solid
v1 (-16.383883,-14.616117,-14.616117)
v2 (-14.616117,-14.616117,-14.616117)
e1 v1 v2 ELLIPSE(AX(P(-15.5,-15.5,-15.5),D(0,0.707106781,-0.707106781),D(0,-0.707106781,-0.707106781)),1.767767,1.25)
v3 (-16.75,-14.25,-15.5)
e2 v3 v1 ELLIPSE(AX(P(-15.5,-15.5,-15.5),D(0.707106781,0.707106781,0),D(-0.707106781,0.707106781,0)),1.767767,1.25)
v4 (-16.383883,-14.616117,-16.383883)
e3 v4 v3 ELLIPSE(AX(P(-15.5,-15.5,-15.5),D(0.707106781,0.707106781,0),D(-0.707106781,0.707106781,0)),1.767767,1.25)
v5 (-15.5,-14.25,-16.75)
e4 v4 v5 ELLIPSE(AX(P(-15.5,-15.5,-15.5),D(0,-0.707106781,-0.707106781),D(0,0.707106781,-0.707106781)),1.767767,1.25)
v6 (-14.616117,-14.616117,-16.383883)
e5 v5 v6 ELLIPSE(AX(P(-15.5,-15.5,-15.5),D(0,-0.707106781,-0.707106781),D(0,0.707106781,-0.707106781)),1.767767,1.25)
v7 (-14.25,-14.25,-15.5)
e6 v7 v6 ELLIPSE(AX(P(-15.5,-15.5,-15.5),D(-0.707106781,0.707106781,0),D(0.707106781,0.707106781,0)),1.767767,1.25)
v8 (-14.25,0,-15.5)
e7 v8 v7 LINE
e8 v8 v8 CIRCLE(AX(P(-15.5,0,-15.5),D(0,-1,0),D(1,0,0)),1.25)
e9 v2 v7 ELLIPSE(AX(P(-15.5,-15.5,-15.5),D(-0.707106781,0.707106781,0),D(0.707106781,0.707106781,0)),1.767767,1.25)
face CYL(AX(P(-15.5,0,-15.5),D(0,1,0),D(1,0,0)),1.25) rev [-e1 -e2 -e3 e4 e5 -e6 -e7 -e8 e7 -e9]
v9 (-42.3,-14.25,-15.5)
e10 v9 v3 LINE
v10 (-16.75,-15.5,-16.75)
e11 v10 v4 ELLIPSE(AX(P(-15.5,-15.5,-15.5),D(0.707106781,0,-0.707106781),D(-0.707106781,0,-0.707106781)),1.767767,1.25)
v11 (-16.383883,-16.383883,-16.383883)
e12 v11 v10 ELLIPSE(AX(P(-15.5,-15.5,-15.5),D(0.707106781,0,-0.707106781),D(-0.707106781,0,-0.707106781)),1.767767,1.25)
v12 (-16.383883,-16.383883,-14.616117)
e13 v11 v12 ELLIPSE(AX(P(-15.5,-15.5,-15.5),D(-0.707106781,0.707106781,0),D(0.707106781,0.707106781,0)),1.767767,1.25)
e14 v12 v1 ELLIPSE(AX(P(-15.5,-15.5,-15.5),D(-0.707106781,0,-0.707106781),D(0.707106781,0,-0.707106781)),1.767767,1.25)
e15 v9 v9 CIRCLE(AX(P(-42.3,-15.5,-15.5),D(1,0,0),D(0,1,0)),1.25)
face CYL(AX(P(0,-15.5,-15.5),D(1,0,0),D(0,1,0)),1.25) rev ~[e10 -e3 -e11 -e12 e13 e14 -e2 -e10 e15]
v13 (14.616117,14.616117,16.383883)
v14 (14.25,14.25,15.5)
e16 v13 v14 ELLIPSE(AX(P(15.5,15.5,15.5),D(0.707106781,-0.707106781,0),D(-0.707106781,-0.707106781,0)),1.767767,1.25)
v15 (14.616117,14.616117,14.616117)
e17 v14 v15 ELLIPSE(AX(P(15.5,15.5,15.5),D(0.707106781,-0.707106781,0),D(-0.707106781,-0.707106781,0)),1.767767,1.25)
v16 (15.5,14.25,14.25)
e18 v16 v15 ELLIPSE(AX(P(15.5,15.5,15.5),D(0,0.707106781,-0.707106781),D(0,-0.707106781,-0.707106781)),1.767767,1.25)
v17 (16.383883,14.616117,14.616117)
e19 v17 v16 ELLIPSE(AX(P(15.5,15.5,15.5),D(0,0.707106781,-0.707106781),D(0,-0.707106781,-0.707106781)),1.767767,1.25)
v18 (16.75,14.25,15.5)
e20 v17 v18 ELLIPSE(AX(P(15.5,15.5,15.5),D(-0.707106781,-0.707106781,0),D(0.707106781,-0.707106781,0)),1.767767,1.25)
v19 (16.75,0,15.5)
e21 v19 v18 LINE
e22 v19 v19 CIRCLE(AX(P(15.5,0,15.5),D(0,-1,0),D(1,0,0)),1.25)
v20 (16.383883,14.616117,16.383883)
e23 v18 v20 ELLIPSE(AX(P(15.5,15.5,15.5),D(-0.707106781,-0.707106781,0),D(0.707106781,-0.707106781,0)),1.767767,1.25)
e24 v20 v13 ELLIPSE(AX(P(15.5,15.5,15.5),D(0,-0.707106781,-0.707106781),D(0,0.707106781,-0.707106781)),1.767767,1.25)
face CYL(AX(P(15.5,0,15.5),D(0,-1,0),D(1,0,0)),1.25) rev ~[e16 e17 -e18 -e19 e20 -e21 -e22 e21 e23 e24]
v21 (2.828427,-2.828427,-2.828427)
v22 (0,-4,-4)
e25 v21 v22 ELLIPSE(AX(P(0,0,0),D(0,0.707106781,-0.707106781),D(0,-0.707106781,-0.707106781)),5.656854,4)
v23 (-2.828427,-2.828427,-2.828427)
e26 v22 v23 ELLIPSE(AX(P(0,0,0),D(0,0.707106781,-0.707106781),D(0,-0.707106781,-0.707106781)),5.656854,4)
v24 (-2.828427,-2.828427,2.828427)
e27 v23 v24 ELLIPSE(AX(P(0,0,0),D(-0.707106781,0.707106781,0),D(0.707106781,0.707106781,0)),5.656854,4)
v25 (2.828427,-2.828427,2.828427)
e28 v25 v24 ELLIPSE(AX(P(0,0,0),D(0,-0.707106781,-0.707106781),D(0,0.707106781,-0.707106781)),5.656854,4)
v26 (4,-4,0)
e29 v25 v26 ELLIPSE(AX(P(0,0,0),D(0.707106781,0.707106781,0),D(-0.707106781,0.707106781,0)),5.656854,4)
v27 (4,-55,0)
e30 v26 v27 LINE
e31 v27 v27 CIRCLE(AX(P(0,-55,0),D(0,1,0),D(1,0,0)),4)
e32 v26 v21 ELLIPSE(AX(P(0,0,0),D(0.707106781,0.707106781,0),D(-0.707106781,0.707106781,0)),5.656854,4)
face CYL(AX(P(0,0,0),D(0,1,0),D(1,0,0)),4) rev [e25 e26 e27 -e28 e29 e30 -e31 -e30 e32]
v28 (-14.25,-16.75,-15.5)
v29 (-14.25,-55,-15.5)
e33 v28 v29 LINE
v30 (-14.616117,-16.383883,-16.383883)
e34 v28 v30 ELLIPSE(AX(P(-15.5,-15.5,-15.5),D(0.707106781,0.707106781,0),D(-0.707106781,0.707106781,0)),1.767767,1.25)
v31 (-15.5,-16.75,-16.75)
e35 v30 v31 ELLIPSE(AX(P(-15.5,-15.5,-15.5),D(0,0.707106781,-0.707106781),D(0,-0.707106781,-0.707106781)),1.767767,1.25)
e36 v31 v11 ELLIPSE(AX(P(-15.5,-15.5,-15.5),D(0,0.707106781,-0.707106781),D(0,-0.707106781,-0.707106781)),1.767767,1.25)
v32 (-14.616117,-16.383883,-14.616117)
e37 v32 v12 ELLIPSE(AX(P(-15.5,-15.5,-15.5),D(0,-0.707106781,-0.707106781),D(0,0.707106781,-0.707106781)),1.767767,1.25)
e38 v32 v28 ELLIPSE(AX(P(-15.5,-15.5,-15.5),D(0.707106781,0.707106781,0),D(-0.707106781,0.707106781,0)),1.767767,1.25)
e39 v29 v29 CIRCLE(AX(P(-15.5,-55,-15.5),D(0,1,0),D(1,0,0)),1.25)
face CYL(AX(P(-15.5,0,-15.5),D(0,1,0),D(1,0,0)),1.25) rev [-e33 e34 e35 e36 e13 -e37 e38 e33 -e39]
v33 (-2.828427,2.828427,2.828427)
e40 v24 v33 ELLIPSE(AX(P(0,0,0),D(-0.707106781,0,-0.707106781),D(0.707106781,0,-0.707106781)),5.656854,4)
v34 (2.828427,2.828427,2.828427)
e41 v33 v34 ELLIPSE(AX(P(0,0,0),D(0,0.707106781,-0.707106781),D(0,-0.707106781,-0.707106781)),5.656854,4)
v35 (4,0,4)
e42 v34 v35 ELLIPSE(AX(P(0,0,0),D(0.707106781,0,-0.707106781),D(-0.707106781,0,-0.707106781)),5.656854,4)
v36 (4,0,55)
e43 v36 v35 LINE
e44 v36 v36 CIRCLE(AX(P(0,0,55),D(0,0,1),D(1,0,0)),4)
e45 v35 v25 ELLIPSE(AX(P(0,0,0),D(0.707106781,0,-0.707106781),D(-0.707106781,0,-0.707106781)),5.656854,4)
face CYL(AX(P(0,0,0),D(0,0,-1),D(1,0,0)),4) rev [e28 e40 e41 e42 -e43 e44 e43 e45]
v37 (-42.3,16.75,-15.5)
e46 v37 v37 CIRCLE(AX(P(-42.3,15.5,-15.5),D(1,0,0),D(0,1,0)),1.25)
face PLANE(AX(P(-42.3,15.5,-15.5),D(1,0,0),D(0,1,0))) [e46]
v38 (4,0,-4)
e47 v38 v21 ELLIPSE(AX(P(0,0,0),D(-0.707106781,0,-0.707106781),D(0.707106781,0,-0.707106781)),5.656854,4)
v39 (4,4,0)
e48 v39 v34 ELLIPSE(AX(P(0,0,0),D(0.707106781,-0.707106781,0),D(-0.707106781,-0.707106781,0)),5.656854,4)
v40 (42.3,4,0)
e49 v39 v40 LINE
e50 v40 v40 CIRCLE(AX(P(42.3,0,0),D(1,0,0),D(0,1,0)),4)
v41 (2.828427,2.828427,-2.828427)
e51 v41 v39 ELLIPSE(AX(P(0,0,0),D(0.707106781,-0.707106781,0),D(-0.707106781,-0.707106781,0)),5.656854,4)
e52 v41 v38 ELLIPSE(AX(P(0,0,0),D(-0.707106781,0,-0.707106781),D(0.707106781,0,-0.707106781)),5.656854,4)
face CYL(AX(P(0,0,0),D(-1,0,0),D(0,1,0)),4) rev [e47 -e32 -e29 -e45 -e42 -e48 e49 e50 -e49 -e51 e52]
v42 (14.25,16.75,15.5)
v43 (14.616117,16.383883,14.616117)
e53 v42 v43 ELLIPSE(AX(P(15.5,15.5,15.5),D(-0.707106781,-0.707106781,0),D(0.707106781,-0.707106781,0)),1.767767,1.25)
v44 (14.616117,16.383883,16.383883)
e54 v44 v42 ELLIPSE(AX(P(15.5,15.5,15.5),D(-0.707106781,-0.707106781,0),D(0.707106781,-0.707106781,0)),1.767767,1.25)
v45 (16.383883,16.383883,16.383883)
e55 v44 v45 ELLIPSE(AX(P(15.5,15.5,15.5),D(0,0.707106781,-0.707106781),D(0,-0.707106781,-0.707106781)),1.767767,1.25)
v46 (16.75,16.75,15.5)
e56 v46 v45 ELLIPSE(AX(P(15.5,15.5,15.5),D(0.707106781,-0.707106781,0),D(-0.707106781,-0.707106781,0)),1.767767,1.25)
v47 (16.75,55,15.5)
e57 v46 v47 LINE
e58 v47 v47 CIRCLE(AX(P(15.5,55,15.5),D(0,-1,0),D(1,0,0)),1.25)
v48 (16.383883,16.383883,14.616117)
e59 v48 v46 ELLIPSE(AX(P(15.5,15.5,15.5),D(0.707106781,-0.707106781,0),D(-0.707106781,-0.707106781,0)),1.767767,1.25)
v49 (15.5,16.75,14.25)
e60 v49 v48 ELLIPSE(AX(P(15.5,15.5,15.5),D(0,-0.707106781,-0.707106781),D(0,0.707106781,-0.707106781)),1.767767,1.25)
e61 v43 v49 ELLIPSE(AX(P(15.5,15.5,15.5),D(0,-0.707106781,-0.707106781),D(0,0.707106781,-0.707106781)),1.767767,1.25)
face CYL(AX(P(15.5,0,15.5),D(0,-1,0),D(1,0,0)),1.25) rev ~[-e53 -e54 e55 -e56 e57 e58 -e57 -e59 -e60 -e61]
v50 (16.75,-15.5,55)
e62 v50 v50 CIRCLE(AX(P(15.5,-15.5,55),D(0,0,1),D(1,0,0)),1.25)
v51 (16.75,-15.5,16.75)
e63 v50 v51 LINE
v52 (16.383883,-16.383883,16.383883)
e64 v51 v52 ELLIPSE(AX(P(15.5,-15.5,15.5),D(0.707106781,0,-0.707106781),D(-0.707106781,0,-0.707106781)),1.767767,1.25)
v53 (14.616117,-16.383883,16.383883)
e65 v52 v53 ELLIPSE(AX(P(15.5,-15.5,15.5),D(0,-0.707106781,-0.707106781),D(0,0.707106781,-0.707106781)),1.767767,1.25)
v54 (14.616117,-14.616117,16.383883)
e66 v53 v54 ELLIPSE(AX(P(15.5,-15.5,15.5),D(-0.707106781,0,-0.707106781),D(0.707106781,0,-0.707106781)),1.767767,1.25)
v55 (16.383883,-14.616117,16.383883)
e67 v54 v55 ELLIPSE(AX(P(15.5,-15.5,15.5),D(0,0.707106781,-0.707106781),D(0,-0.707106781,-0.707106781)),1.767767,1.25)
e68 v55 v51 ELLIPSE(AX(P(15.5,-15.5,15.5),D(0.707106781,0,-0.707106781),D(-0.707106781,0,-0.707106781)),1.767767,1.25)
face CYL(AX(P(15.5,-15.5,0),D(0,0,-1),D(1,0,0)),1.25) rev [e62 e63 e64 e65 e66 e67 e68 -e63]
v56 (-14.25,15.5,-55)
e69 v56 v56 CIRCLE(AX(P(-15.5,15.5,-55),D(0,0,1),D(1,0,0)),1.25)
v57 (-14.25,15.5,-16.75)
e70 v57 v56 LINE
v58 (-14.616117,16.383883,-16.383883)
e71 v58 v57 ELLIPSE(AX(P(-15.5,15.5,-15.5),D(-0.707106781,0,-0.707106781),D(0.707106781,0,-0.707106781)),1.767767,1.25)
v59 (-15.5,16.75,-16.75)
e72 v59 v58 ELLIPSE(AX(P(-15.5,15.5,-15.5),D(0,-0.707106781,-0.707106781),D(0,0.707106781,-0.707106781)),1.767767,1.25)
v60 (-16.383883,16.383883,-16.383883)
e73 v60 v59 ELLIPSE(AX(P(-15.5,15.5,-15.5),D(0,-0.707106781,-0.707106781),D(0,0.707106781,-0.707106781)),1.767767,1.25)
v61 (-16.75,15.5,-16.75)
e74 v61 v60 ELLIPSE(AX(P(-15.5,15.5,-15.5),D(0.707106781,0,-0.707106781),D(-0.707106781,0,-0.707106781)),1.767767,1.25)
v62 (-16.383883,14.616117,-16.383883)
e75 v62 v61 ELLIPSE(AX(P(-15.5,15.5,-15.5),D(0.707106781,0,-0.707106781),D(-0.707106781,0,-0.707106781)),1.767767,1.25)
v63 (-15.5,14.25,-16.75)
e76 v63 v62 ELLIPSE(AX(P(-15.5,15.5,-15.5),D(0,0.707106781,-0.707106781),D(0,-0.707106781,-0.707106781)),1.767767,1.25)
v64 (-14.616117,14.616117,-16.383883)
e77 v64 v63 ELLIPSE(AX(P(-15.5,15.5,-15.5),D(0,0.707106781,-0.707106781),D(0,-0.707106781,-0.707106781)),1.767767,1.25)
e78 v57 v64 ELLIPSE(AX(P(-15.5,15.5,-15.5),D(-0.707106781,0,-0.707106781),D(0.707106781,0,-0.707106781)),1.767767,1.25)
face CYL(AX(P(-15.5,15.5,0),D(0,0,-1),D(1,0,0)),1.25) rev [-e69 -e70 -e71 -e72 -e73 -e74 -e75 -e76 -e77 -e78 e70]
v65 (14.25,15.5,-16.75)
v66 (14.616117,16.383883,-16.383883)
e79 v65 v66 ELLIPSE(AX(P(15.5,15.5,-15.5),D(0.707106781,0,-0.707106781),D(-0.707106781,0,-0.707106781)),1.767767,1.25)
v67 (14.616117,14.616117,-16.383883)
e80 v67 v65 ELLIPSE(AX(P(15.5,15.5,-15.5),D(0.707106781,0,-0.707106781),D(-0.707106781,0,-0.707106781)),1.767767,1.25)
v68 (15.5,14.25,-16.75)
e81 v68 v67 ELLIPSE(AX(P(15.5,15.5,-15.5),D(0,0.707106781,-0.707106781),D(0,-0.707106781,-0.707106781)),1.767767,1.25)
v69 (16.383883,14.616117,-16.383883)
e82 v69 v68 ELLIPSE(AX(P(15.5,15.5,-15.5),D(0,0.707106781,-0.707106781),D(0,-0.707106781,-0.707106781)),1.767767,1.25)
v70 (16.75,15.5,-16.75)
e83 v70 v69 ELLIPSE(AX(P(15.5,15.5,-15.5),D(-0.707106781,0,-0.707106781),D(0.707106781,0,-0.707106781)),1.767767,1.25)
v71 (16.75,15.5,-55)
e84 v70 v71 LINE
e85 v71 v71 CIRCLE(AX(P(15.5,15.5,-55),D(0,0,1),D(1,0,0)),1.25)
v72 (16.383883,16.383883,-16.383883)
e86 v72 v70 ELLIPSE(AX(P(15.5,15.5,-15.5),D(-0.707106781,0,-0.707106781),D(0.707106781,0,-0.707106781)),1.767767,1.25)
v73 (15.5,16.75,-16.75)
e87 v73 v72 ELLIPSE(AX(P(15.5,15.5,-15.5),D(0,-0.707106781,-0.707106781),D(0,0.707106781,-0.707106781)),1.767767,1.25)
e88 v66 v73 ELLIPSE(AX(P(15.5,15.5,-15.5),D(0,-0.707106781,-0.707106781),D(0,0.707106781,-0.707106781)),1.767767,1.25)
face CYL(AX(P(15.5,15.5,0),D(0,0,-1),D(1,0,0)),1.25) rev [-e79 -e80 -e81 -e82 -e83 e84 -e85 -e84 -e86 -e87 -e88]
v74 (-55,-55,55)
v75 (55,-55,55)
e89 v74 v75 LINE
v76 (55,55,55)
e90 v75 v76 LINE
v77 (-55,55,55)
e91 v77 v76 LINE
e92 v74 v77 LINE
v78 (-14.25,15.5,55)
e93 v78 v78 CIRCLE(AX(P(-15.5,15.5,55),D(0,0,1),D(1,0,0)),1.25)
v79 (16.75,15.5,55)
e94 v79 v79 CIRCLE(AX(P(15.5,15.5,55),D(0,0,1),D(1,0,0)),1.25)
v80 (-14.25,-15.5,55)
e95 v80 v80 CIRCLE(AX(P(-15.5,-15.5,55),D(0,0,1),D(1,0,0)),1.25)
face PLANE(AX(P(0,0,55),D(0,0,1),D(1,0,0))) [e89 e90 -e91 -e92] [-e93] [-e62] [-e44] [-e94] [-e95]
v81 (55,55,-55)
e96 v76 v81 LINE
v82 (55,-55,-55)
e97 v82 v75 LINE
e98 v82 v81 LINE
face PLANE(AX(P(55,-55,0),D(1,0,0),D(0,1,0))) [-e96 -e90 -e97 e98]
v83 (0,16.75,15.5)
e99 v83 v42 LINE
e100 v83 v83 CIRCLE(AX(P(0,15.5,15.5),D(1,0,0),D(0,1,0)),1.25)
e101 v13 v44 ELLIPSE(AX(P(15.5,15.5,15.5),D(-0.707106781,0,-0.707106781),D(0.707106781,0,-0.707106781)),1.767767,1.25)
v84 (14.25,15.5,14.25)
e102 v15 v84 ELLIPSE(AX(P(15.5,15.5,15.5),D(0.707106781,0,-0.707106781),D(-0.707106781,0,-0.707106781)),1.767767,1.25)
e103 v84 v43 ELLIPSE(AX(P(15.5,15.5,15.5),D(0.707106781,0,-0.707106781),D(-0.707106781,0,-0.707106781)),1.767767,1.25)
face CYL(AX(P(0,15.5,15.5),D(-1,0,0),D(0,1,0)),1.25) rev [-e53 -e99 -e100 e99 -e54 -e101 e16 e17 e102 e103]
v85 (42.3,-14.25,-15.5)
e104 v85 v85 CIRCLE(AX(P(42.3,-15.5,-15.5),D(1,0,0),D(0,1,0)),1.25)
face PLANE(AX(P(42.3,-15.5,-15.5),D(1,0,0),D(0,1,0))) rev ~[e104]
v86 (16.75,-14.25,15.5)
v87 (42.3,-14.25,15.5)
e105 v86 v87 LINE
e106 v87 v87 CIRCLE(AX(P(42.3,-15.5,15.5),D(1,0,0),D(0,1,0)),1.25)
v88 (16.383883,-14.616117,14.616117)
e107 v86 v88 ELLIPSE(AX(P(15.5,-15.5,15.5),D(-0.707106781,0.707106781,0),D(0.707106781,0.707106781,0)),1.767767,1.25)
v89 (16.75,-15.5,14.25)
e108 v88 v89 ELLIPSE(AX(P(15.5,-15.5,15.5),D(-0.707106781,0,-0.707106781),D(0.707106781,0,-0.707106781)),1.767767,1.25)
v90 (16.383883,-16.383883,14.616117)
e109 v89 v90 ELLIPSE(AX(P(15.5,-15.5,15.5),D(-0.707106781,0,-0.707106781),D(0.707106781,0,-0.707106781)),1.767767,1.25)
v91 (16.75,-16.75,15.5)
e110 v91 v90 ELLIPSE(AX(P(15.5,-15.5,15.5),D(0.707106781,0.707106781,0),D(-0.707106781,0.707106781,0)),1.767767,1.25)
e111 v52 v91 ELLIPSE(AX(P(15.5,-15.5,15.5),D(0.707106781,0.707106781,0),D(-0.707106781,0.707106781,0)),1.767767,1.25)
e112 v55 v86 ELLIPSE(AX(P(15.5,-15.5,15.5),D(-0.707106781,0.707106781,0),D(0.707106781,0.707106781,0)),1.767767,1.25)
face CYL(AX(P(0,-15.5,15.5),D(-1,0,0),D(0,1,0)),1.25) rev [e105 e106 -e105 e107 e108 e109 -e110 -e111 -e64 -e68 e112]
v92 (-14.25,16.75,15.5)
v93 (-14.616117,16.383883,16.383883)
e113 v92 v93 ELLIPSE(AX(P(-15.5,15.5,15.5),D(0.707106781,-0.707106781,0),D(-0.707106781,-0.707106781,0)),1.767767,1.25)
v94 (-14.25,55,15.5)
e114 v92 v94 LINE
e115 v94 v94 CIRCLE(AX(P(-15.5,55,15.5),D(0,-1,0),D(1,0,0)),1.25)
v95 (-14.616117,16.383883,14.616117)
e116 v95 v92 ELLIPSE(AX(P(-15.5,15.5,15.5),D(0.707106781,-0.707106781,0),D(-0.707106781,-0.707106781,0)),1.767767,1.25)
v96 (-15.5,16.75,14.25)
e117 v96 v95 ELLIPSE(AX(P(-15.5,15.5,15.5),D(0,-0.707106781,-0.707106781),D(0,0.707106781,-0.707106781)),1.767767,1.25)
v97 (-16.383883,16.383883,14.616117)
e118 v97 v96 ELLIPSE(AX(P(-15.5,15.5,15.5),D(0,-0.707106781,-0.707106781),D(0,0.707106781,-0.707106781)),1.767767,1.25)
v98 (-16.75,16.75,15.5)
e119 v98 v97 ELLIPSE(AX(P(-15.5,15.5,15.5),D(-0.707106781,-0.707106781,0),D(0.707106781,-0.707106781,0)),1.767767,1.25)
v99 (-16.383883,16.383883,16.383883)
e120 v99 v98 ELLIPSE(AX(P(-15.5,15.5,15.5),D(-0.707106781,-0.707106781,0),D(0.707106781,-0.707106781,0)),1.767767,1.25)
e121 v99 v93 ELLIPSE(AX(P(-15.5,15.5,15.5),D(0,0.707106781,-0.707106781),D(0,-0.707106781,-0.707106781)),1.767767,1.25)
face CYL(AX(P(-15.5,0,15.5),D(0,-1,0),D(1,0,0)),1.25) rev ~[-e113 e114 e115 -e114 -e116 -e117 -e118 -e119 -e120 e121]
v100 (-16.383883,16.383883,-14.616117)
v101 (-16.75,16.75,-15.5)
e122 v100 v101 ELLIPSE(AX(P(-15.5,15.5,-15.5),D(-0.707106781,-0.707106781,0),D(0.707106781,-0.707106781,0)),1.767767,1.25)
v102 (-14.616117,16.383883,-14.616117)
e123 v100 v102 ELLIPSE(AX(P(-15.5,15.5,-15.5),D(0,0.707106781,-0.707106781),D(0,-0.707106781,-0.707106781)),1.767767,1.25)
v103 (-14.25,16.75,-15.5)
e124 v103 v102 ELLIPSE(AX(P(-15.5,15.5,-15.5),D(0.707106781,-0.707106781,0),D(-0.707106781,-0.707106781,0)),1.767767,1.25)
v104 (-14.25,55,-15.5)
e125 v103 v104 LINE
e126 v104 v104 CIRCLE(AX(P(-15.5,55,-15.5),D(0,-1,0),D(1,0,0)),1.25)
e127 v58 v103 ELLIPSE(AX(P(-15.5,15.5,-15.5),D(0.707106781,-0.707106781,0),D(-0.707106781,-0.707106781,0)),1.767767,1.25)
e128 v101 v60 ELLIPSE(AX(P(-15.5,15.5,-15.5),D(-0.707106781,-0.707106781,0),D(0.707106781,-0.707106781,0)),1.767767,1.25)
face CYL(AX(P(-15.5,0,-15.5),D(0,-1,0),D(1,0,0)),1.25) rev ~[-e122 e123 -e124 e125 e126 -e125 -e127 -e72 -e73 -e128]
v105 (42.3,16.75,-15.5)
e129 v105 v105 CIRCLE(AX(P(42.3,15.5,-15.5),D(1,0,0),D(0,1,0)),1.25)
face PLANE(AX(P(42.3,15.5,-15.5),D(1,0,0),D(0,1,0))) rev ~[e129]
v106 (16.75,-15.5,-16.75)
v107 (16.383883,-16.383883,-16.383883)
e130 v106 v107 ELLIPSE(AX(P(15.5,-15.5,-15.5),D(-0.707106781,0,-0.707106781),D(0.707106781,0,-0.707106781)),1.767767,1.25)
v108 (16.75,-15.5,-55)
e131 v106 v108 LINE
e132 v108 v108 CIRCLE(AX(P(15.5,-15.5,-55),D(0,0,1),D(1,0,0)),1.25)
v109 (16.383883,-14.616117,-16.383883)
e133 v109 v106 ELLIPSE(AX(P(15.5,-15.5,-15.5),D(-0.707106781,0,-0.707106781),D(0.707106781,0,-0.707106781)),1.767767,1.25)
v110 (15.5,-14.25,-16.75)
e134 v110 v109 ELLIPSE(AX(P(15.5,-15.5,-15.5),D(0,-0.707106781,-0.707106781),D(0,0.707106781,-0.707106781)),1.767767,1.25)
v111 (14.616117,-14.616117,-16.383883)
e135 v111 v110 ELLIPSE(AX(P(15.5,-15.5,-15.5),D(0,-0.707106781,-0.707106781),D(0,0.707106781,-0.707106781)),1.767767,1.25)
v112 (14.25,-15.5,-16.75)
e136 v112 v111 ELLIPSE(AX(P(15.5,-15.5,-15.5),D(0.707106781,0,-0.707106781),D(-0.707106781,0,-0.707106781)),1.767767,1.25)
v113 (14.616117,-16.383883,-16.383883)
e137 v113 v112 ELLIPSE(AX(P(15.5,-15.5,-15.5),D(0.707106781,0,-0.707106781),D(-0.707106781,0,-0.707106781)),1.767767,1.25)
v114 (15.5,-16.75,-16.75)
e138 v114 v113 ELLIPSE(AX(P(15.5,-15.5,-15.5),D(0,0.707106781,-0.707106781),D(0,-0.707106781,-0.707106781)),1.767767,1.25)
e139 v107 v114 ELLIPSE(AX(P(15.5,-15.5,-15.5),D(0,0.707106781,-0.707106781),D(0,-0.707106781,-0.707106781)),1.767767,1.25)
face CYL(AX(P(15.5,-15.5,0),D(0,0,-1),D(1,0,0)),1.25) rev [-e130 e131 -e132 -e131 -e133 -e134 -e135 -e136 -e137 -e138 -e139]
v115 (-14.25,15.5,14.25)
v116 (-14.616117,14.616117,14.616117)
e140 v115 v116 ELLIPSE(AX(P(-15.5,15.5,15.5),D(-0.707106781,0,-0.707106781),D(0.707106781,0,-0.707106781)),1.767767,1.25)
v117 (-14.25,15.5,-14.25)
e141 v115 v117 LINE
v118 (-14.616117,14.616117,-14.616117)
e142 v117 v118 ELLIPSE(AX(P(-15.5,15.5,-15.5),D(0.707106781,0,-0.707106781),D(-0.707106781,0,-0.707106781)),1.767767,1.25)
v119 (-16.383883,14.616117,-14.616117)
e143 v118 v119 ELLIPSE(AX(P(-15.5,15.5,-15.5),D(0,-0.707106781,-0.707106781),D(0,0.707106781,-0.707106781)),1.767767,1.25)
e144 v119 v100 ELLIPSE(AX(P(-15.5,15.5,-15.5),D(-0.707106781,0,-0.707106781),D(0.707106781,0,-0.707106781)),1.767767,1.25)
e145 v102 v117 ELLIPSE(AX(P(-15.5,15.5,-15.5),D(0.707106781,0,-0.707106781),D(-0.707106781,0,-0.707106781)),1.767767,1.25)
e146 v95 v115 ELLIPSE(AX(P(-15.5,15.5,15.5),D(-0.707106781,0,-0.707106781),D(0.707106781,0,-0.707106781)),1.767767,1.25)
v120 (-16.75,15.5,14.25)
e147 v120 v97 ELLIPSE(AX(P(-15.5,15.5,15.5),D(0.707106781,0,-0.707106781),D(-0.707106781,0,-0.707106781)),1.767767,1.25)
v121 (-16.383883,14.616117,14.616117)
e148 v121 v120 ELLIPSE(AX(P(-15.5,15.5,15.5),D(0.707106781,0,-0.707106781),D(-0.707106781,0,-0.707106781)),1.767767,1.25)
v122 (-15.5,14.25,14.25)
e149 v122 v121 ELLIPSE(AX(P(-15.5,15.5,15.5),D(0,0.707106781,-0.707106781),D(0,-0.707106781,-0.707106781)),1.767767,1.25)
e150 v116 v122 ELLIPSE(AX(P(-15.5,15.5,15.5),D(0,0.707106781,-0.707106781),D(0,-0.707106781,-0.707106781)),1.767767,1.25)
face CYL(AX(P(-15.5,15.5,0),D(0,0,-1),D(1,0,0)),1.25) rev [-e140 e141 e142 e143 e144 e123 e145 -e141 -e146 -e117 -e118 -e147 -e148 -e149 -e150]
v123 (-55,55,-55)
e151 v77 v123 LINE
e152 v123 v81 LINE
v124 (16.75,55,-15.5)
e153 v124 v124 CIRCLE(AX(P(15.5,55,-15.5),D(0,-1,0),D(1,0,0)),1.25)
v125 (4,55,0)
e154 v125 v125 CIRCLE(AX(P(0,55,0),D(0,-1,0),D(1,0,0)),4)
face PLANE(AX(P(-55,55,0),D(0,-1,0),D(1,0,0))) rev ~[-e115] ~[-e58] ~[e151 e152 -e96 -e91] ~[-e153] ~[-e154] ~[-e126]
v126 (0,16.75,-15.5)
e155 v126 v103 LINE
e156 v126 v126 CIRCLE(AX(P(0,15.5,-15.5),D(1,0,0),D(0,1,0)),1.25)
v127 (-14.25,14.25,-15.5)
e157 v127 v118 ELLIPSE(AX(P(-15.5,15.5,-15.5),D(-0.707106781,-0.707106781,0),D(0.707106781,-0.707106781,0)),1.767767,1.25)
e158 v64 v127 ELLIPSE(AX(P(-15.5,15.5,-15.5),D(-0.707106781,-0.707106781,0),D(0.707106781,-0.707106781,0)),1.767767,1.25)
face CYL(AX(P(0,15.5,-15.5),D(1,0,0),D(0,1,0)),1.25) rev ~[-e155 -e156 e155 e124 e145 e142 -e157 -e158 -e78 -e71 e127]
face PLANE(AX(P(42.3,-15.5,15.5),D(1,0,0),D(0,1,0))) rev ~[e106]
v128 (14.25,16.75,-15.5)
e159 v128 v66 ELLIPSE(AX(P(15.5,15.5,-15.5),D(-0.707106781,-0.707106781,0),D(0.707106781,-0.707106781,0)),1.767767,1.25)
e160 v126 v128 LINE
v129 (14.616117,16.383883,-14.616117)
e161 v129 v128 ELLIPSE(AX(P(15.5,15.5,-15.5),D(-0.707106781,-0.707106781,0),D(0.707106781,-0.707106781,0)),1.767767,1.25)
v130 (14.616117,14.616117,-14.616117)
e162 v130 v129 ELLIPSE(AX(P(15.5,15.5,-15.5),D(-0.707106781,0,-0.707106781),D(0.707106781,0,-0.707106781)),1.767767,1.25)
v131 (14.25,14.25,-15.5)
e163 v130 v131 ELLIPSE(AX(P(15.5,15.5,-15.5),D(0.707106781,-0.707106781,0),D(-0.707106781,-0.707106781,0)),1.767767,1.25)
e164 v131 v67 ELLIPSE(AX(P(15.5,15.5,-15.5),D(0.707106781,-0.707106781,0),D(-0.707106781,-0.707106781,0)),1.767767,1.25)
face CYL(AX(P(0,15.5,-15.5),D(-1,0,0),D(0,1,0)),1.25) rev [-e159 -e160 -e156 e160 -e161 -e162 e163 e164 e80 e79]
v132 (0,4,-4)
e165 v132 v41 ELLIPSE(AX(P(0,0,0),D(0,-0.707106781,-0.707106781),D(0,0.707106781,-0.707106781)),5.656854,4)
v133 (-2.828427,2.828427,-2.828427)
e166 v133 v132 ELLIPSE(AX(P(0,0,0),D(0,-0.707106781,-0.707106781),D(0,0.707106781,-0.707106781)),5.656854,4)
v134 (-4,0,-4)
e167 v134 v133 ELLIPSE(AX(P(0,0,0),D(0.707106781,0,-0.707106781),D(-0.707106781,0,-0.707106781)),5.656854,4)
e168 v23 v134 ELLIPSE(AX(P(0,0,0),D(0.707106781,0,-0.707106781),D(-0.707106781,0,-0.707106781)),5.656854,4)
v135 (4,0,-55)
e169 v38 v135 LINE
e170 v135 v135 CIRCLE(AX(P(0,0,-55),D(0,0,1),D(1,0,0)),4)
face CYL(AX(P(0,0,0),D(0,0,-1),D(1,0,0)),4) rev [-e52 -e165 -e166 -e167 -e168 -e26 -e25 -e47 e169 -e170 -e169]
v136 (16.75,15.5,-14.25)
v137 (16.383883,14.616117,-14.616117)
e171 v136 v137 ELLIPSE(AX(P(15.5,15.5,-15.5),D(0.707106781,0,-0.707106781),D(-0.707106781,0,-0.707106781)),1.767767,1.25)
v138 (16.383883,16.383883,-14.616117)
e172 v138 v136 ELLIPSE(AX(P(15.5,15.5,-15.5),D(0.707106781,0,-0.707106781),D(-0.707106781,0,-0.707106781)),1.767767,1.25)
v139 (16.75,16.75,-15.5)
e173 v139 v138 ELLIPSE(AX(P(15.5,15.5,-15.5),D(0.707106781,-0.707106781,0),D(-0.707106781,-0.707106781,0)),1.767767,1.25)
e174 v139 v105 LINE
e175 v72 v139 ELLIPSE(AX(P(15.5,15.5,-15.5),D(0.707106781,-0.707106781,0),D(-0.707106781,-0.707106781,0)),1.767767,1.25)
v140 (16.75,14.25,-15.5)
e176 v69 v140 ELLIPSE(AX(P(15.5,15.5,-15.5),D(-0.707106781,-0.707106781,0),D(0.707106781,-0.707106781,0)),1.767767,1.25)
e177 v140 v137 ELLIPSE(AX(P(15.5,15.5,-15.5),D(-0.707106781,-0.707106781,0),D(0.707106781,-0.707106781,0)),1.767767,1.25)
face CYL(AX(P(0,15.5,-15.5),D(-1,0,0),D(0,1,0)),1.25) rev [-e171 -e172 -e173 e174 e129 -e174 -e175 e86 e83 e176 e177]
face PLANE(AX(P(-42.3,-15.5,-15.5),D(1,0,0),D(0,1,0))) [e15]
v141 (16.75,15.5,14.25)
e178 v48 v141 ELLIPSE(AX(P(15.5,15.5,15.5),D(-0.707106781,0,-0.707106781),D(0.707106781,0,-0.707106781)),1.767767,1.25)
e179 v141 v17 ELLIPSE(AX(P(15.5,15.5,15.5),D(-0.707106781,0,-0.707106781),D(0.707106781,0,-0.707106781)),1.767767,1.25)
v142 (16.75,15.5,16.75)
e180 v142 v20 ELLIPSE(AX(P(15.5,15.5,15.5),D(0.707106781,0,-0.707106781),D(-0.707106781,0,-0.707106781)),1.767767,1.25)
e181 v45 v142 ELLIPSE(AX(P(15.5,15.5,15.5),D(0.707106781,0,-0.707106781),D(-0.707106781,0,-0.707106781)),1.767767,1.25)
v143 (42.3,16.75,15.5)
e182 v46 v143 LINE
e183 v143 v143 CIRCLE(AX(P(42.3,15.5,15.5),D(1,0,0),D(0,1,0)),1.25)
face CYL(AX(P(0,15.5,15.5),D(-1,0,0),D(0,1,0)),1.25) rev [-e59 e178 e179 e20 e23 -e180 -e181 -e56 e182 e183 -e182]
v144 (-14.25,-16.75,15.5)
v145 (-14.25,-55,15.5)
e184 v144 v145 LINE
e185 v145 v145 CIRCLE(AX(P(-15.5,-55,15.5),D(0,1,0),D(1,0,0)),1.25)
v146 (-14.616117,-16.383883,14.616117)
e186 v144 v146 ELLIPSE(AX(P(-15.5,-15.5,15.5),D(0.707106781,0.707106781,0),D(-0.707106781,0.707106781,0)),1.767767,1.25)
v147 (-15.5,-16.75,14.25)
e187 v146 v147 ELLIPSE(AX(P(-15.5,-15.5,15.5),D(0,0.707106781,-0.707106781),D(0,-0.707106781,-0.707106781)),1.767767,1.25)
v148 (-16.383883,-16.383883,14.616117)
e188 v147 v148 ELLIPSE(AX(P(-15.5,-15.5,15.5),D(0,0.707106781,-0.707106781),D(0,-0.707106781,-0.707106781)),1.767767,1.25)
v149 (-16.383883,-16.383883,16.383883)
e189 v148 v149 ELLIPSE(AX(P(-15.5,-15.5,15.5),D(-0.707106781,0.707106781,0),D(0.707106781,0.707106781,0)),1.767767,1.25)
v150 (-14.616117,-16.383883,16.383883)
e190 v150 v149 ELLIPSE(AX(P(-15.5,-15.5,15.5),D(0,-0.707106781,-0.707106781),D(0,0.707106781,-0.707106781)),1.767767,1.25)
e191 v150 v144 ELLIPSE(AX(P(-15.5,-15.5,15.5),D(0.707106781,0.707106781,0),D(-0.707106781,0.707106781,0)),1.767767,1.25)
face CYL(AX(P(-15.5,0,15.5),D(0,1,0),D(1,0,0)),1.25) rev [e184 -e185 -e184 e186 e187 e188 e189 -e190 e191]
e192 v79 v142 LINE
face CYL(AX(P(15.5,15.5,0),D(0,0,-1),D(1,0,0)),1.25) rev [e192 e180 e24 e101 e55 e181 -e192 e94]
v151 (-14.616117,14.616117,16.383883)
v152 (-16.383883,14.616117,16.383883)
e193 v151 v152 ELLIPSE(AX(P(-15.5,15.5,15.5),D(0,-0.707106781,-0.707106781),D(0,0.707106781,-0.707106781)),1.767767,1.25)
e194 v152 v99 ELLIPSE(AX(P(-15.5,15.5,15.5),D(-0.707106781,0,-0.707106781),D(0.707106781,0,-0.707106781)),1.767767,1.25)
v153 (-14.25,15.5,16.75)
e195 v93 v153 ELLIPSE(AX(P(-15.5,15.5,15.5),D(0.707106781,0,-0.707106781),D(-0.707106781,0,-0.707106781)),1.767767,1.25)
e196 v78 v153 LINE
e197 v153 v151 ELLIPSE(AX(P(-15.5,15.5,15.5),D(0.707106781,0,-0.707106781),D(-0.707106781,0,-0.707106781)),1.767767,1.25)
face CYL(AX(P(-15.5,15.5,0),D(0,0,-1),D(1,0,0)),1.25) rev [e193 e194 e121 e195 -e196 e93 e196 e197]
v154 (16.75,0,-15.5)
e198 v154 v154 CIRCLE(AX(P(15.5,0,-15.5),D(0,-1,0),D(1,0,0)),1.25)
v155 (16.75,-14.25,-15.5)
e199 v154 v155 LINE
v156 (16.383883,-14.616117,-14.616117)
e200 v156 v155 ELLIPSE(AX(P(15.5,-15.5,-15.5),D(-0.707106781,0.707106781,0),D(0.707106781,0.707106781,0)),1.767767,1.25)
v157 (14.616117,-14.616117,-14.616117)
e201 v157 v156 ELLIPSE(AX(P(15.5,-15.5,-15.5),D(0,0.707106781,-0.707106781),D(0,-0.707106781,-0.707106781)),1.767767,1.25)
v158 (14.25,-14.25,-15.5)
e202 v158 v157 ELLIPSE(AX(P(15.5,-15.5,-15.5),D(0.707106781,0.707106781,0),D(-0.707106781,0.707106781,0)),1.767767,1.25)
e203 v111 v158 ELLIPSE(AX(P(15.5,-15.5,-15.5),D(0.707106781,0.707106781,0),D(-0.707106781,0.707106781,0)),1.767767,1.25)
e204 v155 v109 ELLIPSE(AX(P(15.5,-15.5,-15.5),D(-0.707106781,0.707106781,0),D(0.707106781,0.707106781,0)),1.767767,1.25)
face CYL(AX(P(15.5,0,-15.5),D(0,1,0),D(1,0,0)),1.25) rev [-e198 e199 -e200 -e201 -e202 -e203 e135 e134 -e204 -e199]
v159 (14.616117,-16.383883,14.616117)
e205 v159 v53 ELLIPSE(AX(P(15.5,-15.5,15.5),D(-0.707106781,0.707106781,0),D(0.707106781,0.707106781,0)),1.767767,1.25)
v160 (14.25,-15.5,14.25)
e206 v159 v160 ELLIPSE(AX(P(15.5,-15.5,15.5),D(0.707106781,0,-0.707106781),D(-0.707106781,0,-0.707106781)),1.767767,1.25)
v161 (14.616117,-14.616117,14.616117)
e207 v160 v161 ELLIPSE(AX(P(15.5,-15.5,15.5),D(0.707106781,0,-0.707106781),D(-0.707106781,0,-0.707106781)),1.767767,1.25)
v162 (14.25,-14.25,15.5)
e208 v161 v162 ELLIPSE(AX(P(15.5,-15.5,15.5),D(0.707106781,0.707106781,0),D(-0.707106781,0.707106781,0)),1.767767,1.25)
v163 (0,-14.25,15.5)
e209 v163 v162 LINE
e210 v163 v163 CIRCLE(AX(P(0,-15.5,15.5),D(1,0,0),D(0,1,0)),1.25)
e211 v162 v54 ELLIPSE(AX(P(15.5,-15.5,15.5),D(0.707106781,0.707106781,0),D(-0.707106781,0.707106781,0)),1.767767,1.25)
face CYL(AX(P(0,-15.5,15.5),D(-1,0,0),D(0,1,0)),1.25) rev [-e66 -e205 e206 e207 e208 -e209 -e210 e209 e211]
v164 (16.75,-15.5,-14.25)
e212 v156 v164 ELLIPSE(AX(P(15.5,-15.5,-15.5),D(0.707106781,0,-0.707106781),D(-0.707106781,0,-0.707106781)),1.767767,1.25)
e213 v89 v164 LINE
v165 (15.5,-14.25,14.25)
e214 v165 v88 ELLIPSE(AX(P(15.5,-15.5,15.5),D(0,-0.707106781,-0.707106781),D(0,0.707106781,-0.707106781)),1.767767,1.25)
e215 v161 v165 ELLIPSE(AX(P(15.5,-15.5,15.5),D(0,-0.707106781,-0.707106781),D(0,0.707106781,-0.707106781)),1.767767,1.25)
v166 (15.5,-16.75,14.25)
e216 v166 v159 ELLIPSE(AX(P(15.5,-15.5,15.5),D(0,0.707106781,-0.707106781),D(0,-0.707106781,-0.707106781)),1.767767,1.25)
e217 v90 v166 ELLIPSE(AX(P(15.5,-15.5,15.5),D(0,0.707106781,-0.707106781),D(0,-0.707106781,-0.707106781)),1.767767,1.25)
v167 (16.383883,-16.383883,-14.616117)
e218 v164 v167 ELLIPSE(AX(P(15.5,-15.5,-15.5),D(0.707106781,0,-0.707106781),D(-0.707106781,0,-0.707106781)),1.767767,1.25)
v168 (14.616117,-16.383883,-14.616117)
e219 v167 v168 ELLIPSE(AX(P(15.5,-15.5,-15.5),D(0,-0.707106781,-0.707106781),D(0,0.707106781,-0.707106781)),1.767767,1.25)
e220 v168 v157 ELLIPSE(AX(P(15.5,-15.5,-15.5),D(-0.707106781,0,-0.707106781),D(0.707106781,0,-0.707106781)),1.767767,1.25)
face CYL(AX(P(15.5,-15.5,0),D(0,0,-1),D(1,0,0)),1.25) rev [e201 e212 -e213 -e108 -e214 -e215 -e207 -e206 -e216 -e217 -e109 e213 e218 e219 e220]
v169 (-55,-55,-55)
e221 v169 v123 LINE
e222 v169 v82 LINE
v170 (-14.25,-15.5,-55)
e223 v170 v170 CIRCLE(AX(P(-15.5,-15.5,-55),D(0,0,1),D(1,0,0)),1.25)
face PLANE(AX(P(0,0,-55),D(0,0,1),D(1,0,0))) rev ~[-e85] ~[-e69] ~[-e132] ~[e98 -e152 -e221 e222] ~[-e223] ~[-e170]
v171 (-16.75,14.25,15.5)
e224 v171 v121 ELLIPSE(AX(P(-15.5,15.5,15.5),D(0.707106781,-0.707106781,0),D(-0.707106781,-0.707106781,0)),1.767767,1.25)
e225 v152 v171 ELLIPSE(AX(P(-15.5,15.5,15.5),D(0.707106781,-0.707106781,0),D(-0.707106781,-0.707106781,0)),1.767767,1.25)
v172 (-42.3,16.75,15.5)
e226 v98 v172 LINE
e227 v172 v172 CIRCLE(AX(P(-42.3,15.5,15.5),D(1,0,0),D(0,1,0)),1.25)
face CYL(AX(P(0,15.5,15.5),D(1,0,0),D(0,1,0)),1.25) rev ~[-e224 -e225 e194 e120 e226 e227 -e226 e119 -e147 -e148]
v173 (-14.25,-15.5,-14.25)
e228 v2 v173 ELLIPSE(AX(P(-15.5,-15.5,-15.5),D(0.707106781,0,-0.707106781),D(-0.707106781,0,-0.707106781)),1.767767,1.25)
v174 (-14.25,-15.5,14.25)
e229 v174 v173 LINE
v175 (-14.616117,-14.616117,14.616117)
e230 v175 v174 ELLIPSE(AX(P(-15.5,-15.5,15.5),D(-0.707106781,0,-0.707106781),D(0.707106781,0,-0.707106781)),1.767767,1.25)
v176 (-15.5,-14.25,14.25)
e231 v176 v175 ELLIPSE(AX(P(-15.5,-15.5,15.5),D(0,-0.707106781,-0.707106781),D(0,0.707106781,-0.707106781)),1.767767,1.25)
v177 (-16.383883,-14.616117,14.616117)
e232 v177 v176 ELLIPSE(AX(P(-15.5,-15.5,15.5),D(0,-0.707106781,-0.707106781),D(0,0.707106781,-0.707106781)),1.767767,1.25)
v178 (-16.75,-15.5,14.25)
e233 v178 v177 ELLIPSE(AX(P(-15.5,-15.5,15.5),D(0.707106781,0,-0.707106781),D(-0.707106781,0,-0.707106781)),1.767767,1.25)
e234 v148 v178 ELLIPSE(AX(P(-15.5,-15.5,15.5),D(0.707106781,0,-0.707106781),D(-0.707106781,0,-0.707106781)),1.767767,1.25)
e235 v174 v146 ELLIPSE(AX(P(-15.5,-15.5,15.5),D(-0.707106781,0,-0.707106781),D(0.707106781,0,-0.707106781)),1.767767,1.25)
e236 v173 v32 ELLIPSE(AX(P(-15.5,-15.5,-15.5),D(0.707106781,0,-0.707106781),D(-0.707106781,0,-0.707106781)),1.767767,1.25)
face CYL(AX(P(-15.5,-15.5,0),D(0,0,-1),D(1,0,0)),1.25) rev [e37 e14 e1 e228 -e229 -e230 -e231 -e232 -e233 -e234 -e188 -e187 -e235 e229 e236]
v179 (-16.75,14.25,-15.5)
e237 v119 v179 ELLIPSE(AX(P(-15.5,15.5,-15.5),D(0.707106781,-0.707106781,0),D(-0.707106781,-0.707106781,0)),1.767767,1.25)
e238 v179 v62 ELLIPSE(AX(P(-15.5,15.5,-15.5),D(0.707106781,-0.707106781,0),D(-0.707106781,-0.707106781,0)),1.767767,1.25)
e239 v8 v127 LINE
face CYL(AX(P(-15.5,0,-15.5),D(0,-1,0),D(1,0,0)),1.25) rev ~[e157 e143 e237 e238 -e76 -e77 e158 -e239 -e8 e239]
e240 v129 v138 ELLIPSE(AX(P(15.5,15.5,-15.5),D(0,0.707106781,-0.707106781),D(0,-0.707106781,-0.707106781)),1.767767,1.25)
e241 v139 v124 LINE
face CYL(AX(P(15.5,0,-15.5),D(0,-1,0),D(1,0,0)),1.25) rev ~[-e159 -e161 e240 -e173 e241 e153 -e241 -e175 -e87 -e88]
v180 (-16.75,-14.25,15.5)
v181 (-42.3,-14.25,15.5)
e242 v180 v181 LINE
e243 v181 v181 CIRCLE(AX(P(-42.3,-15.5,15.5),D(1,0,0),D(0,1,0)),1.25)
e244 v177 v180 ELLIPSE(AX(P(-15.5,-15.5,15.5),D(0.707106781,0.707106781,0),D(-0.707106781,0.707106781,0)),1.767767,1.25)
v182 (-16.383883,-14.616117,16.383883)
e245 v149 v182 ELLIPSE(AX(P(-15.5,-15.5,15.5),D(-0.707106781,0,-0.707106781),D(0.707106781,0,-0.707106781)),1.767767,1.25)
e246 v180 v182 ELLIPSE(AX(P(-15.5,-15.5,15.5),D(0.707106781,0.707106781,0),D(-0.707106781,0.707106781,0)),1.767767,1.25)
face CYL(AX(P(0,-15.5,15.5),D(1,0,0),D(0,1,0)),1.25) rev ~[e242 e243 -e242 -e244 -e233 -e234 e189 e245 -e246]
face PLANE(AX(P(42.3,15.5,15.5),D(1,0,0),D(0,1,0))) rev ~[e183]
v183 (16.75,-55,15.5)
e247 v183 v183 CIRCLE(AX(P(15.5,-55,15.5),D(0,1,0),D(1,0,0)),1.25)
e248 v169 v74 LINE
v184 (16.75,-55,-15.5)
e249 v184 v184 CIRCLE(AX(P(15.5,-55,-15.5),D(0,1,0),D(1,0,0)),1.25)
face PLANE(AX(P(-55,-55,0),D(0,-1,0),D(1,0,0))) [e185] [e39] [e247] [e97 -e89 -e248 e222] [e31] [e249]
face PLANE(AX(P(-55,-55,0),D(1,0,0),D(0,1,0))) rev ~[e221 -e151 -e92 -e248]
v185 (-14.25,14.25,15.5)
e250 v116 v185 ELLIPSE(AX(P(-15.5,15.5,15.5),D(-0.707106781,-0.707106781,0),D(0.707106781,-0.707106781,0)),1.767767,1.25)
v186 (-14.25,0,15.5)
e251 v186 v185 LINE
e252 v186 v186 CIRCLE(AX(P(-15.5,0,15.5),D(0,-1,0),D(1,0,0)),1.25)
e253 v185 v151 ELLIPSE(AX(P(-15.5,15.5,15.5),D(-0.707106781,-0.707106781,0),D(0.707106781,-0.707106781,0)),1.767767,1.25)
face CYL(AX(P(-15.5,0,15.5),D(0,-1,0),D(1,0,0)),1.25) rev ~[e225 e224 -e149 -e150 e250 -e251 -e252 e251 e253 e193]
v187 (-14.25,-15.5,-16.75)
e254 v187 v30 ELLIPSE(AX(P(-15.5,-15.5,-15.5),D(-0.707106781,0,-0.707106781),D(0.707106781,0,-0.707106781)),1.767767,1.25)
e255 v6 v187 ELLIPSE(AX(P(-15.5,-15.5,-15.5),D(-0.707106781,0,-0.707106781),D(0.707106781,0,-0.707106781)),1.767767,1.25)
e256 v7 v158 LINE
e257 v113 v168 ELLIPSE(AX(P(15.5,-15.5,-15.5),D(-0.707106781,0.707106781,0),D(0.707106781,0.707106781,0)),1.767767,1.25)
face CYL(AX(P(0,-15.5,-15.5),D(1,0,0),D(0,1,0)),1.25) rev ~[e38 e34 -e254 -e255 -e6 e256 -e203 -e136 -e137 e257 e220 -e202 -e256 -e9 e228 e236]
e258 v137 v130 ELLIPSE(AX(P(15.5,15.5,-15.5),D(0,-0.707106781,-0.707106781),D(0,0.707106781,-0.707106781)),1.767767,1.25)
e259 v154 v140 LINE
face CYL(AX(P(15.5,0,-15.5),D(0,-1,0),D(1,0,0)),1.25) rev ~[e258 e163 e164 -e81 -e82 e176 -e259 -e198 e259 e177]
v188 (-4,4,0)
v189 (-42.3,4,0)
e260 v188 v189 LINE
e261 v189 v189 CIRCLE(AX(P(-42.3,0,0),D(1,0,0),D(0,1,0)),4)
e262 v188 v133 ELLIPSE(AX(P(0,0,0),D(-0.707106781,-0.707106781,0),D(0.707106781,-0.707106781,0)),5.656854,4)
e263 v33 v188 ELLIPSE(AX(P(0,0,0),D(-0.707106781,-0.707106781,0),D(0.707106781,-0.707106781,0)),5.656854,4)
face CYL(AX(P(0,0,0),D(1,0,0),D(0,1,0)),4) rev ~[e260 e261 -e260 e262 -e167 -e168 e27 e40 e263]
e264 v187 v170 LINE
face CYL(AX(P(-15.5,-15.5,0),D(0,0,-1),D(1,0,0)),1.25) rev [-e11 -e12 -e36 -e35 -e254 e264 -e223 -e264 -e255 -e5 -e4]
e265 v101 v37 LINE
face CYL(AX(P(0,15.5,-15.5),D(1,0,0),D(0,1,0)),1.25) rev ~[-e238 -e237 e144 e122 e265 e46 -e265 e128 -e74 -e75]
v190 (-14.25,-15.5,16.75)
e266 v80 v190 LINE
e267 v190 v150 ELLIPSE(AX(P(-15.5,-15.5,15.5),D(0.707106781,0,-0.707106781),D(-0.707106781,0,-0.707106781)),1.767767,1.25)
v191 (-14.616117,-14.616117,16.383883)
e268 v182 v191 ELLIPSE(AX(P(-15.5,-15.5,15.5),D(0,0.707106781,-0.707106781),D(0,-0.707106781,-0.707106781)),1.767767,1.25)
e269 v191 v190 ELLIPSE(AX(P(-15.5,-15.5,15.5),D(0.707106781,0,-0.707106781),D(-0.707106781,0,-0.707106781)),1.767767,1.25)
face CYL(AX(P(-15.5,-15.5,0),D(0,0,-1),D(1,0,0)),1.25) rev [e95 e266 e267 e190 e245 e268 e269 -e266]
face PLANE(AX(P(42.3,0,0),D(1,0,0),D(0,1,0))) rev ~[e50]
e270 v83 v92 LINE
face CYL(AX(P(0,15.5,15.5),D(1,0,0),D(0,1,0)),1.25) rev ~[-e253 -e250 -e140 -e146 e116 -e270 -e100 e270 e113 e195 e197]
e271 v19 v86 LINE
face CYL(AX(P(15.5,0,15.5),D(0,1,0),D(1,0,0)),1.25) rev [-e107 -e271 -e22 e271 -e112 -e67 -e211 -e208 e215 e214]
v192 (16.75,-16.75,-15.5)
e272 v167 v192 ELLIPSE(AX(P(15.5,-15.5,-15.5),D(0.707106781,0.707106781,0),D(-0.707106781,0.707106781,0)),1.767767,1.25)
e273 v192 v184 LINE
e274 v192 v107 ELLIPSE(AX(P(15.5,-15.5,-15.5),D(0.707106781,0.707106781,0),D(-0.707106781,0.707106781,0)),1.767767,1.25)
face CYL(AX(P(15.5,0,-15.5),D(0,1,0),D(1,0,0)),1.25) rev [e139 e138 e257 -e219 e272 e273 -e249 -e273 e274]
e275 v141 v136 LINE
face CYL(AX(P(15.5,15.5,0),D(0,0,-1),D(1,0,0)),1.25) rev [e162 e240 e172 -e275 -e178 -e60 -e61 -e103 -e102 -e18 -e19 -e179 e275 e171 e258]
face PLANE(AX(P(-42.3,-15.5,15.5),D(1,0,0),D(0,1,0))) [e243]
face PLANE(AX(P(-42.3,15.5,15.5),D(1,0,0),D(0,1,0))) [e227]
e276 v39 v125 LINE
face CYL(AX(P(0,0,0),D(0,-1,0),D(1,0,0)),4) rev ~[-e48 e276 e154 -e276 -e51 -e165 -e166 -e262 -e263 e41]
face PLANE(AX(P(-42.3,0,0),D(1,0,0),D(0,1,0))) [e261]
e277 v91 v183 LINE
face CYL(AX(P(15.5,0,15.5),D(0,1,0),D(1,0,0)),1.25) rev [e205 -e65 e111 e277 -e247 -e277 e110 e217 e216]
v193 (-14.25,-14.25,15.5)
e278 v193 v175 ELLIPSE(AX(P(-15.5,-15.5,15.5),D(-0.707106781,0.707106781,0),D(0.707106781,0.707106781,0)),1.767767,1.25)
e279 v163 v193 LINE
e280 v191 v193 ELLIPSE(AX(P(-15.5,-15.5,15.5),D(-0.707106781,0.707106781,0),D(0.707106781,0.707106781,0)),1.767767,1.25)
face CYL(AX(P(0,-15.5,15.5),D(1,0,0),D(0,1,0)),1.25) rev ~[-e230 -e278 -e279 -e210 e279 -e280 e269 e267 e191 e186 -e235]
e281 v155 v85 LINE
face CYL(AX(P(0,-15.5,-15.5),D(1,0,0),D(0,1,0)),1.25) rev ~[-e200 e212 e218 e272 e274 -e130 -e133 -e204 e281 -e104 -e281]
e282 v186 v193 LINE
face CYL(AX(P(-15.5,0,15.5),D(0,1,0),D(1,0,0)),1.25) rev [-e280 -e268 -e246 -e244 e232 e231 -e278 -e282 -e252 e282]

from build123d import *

# Parameters (mm, degrees)
F1_W          = 110
F1_H          = 110
F1_R          = 1.25
F1_R_2        = 4
F2_DEPTH      = 55
F3_R          = 1.25
F3_R_2        = 4
F4_DEPTH      = 55.001
F4_DEPTH_BACK = 55.001
F5_R          = 1.25
F5_R_2        = 4
F6_DEPTH      = 42.3


with BuildPart() as f2:
    # F1 (on Top) → F2 (new body, symmetric)
    with BuildSketch(Plane.XY):
        Rectangle(F1_W, F1_H)
        with Locations((-15.5, -15.5)):
            Circle(F1_R, mode=Mode.SUBTRACT)
        with Locations((15.5, -15.5)):
            Circle(F1_R, mode=Mode.SUBTRACT)
        with Locations((-15.5, 15.5)):
            Circle(F1_R, mode=Mode.SUBTRACT)
        Circle(F1_R_2, mode=Mode.SUBTRACT)
        with Locations((15.5, 15.5)):
            Circle(F1_R, mode=Mode.SUBTRACT)
    extrude(amount=F2_DEPTH, both=True)

    # F3 (on Front) → F4 (cut, two sides)
    with BuildSketch(Plane.XZ) as f4_sk:
        with Locations((15.5, 15.5)):
            Circle(F3_R)
        Circle(F3_R_2)
        with Locations((-15.5, 15.5)):
            Circle(F3_R)
        with Locations((-15.5, -15.5)):
            Circle(F3_R)
        with Locations((15.5, -15.5)):
            Circle(F3_R)
    extrude(amount=-F4_DEPTH, mode=Mode.SUBTRACT)
    extrude(f4_sk.sketch, amount=F4_DEPTH_BACK, mode=Mode.SUBTRACT)

    # F5 (on Right) → F6 (cut, symmetric)
    with BuildSketch(Plane.YZ):
        with Locations((-15.5, 15.5)):
            Circle(F5_R)
        Circle(F5_R_2)
        with Locations((15.5, 15.5)):
            Circle(F5_R)
        with Locations((15.5, -15.5)):
            Circle(F5_R)
        with Locations((-15.5, -15.5)):
            Circle(F5_R)
    extrude(amount=F6_DEPTH, both=True, mode=Mode.SUBTRACT)


solid = f2.part
